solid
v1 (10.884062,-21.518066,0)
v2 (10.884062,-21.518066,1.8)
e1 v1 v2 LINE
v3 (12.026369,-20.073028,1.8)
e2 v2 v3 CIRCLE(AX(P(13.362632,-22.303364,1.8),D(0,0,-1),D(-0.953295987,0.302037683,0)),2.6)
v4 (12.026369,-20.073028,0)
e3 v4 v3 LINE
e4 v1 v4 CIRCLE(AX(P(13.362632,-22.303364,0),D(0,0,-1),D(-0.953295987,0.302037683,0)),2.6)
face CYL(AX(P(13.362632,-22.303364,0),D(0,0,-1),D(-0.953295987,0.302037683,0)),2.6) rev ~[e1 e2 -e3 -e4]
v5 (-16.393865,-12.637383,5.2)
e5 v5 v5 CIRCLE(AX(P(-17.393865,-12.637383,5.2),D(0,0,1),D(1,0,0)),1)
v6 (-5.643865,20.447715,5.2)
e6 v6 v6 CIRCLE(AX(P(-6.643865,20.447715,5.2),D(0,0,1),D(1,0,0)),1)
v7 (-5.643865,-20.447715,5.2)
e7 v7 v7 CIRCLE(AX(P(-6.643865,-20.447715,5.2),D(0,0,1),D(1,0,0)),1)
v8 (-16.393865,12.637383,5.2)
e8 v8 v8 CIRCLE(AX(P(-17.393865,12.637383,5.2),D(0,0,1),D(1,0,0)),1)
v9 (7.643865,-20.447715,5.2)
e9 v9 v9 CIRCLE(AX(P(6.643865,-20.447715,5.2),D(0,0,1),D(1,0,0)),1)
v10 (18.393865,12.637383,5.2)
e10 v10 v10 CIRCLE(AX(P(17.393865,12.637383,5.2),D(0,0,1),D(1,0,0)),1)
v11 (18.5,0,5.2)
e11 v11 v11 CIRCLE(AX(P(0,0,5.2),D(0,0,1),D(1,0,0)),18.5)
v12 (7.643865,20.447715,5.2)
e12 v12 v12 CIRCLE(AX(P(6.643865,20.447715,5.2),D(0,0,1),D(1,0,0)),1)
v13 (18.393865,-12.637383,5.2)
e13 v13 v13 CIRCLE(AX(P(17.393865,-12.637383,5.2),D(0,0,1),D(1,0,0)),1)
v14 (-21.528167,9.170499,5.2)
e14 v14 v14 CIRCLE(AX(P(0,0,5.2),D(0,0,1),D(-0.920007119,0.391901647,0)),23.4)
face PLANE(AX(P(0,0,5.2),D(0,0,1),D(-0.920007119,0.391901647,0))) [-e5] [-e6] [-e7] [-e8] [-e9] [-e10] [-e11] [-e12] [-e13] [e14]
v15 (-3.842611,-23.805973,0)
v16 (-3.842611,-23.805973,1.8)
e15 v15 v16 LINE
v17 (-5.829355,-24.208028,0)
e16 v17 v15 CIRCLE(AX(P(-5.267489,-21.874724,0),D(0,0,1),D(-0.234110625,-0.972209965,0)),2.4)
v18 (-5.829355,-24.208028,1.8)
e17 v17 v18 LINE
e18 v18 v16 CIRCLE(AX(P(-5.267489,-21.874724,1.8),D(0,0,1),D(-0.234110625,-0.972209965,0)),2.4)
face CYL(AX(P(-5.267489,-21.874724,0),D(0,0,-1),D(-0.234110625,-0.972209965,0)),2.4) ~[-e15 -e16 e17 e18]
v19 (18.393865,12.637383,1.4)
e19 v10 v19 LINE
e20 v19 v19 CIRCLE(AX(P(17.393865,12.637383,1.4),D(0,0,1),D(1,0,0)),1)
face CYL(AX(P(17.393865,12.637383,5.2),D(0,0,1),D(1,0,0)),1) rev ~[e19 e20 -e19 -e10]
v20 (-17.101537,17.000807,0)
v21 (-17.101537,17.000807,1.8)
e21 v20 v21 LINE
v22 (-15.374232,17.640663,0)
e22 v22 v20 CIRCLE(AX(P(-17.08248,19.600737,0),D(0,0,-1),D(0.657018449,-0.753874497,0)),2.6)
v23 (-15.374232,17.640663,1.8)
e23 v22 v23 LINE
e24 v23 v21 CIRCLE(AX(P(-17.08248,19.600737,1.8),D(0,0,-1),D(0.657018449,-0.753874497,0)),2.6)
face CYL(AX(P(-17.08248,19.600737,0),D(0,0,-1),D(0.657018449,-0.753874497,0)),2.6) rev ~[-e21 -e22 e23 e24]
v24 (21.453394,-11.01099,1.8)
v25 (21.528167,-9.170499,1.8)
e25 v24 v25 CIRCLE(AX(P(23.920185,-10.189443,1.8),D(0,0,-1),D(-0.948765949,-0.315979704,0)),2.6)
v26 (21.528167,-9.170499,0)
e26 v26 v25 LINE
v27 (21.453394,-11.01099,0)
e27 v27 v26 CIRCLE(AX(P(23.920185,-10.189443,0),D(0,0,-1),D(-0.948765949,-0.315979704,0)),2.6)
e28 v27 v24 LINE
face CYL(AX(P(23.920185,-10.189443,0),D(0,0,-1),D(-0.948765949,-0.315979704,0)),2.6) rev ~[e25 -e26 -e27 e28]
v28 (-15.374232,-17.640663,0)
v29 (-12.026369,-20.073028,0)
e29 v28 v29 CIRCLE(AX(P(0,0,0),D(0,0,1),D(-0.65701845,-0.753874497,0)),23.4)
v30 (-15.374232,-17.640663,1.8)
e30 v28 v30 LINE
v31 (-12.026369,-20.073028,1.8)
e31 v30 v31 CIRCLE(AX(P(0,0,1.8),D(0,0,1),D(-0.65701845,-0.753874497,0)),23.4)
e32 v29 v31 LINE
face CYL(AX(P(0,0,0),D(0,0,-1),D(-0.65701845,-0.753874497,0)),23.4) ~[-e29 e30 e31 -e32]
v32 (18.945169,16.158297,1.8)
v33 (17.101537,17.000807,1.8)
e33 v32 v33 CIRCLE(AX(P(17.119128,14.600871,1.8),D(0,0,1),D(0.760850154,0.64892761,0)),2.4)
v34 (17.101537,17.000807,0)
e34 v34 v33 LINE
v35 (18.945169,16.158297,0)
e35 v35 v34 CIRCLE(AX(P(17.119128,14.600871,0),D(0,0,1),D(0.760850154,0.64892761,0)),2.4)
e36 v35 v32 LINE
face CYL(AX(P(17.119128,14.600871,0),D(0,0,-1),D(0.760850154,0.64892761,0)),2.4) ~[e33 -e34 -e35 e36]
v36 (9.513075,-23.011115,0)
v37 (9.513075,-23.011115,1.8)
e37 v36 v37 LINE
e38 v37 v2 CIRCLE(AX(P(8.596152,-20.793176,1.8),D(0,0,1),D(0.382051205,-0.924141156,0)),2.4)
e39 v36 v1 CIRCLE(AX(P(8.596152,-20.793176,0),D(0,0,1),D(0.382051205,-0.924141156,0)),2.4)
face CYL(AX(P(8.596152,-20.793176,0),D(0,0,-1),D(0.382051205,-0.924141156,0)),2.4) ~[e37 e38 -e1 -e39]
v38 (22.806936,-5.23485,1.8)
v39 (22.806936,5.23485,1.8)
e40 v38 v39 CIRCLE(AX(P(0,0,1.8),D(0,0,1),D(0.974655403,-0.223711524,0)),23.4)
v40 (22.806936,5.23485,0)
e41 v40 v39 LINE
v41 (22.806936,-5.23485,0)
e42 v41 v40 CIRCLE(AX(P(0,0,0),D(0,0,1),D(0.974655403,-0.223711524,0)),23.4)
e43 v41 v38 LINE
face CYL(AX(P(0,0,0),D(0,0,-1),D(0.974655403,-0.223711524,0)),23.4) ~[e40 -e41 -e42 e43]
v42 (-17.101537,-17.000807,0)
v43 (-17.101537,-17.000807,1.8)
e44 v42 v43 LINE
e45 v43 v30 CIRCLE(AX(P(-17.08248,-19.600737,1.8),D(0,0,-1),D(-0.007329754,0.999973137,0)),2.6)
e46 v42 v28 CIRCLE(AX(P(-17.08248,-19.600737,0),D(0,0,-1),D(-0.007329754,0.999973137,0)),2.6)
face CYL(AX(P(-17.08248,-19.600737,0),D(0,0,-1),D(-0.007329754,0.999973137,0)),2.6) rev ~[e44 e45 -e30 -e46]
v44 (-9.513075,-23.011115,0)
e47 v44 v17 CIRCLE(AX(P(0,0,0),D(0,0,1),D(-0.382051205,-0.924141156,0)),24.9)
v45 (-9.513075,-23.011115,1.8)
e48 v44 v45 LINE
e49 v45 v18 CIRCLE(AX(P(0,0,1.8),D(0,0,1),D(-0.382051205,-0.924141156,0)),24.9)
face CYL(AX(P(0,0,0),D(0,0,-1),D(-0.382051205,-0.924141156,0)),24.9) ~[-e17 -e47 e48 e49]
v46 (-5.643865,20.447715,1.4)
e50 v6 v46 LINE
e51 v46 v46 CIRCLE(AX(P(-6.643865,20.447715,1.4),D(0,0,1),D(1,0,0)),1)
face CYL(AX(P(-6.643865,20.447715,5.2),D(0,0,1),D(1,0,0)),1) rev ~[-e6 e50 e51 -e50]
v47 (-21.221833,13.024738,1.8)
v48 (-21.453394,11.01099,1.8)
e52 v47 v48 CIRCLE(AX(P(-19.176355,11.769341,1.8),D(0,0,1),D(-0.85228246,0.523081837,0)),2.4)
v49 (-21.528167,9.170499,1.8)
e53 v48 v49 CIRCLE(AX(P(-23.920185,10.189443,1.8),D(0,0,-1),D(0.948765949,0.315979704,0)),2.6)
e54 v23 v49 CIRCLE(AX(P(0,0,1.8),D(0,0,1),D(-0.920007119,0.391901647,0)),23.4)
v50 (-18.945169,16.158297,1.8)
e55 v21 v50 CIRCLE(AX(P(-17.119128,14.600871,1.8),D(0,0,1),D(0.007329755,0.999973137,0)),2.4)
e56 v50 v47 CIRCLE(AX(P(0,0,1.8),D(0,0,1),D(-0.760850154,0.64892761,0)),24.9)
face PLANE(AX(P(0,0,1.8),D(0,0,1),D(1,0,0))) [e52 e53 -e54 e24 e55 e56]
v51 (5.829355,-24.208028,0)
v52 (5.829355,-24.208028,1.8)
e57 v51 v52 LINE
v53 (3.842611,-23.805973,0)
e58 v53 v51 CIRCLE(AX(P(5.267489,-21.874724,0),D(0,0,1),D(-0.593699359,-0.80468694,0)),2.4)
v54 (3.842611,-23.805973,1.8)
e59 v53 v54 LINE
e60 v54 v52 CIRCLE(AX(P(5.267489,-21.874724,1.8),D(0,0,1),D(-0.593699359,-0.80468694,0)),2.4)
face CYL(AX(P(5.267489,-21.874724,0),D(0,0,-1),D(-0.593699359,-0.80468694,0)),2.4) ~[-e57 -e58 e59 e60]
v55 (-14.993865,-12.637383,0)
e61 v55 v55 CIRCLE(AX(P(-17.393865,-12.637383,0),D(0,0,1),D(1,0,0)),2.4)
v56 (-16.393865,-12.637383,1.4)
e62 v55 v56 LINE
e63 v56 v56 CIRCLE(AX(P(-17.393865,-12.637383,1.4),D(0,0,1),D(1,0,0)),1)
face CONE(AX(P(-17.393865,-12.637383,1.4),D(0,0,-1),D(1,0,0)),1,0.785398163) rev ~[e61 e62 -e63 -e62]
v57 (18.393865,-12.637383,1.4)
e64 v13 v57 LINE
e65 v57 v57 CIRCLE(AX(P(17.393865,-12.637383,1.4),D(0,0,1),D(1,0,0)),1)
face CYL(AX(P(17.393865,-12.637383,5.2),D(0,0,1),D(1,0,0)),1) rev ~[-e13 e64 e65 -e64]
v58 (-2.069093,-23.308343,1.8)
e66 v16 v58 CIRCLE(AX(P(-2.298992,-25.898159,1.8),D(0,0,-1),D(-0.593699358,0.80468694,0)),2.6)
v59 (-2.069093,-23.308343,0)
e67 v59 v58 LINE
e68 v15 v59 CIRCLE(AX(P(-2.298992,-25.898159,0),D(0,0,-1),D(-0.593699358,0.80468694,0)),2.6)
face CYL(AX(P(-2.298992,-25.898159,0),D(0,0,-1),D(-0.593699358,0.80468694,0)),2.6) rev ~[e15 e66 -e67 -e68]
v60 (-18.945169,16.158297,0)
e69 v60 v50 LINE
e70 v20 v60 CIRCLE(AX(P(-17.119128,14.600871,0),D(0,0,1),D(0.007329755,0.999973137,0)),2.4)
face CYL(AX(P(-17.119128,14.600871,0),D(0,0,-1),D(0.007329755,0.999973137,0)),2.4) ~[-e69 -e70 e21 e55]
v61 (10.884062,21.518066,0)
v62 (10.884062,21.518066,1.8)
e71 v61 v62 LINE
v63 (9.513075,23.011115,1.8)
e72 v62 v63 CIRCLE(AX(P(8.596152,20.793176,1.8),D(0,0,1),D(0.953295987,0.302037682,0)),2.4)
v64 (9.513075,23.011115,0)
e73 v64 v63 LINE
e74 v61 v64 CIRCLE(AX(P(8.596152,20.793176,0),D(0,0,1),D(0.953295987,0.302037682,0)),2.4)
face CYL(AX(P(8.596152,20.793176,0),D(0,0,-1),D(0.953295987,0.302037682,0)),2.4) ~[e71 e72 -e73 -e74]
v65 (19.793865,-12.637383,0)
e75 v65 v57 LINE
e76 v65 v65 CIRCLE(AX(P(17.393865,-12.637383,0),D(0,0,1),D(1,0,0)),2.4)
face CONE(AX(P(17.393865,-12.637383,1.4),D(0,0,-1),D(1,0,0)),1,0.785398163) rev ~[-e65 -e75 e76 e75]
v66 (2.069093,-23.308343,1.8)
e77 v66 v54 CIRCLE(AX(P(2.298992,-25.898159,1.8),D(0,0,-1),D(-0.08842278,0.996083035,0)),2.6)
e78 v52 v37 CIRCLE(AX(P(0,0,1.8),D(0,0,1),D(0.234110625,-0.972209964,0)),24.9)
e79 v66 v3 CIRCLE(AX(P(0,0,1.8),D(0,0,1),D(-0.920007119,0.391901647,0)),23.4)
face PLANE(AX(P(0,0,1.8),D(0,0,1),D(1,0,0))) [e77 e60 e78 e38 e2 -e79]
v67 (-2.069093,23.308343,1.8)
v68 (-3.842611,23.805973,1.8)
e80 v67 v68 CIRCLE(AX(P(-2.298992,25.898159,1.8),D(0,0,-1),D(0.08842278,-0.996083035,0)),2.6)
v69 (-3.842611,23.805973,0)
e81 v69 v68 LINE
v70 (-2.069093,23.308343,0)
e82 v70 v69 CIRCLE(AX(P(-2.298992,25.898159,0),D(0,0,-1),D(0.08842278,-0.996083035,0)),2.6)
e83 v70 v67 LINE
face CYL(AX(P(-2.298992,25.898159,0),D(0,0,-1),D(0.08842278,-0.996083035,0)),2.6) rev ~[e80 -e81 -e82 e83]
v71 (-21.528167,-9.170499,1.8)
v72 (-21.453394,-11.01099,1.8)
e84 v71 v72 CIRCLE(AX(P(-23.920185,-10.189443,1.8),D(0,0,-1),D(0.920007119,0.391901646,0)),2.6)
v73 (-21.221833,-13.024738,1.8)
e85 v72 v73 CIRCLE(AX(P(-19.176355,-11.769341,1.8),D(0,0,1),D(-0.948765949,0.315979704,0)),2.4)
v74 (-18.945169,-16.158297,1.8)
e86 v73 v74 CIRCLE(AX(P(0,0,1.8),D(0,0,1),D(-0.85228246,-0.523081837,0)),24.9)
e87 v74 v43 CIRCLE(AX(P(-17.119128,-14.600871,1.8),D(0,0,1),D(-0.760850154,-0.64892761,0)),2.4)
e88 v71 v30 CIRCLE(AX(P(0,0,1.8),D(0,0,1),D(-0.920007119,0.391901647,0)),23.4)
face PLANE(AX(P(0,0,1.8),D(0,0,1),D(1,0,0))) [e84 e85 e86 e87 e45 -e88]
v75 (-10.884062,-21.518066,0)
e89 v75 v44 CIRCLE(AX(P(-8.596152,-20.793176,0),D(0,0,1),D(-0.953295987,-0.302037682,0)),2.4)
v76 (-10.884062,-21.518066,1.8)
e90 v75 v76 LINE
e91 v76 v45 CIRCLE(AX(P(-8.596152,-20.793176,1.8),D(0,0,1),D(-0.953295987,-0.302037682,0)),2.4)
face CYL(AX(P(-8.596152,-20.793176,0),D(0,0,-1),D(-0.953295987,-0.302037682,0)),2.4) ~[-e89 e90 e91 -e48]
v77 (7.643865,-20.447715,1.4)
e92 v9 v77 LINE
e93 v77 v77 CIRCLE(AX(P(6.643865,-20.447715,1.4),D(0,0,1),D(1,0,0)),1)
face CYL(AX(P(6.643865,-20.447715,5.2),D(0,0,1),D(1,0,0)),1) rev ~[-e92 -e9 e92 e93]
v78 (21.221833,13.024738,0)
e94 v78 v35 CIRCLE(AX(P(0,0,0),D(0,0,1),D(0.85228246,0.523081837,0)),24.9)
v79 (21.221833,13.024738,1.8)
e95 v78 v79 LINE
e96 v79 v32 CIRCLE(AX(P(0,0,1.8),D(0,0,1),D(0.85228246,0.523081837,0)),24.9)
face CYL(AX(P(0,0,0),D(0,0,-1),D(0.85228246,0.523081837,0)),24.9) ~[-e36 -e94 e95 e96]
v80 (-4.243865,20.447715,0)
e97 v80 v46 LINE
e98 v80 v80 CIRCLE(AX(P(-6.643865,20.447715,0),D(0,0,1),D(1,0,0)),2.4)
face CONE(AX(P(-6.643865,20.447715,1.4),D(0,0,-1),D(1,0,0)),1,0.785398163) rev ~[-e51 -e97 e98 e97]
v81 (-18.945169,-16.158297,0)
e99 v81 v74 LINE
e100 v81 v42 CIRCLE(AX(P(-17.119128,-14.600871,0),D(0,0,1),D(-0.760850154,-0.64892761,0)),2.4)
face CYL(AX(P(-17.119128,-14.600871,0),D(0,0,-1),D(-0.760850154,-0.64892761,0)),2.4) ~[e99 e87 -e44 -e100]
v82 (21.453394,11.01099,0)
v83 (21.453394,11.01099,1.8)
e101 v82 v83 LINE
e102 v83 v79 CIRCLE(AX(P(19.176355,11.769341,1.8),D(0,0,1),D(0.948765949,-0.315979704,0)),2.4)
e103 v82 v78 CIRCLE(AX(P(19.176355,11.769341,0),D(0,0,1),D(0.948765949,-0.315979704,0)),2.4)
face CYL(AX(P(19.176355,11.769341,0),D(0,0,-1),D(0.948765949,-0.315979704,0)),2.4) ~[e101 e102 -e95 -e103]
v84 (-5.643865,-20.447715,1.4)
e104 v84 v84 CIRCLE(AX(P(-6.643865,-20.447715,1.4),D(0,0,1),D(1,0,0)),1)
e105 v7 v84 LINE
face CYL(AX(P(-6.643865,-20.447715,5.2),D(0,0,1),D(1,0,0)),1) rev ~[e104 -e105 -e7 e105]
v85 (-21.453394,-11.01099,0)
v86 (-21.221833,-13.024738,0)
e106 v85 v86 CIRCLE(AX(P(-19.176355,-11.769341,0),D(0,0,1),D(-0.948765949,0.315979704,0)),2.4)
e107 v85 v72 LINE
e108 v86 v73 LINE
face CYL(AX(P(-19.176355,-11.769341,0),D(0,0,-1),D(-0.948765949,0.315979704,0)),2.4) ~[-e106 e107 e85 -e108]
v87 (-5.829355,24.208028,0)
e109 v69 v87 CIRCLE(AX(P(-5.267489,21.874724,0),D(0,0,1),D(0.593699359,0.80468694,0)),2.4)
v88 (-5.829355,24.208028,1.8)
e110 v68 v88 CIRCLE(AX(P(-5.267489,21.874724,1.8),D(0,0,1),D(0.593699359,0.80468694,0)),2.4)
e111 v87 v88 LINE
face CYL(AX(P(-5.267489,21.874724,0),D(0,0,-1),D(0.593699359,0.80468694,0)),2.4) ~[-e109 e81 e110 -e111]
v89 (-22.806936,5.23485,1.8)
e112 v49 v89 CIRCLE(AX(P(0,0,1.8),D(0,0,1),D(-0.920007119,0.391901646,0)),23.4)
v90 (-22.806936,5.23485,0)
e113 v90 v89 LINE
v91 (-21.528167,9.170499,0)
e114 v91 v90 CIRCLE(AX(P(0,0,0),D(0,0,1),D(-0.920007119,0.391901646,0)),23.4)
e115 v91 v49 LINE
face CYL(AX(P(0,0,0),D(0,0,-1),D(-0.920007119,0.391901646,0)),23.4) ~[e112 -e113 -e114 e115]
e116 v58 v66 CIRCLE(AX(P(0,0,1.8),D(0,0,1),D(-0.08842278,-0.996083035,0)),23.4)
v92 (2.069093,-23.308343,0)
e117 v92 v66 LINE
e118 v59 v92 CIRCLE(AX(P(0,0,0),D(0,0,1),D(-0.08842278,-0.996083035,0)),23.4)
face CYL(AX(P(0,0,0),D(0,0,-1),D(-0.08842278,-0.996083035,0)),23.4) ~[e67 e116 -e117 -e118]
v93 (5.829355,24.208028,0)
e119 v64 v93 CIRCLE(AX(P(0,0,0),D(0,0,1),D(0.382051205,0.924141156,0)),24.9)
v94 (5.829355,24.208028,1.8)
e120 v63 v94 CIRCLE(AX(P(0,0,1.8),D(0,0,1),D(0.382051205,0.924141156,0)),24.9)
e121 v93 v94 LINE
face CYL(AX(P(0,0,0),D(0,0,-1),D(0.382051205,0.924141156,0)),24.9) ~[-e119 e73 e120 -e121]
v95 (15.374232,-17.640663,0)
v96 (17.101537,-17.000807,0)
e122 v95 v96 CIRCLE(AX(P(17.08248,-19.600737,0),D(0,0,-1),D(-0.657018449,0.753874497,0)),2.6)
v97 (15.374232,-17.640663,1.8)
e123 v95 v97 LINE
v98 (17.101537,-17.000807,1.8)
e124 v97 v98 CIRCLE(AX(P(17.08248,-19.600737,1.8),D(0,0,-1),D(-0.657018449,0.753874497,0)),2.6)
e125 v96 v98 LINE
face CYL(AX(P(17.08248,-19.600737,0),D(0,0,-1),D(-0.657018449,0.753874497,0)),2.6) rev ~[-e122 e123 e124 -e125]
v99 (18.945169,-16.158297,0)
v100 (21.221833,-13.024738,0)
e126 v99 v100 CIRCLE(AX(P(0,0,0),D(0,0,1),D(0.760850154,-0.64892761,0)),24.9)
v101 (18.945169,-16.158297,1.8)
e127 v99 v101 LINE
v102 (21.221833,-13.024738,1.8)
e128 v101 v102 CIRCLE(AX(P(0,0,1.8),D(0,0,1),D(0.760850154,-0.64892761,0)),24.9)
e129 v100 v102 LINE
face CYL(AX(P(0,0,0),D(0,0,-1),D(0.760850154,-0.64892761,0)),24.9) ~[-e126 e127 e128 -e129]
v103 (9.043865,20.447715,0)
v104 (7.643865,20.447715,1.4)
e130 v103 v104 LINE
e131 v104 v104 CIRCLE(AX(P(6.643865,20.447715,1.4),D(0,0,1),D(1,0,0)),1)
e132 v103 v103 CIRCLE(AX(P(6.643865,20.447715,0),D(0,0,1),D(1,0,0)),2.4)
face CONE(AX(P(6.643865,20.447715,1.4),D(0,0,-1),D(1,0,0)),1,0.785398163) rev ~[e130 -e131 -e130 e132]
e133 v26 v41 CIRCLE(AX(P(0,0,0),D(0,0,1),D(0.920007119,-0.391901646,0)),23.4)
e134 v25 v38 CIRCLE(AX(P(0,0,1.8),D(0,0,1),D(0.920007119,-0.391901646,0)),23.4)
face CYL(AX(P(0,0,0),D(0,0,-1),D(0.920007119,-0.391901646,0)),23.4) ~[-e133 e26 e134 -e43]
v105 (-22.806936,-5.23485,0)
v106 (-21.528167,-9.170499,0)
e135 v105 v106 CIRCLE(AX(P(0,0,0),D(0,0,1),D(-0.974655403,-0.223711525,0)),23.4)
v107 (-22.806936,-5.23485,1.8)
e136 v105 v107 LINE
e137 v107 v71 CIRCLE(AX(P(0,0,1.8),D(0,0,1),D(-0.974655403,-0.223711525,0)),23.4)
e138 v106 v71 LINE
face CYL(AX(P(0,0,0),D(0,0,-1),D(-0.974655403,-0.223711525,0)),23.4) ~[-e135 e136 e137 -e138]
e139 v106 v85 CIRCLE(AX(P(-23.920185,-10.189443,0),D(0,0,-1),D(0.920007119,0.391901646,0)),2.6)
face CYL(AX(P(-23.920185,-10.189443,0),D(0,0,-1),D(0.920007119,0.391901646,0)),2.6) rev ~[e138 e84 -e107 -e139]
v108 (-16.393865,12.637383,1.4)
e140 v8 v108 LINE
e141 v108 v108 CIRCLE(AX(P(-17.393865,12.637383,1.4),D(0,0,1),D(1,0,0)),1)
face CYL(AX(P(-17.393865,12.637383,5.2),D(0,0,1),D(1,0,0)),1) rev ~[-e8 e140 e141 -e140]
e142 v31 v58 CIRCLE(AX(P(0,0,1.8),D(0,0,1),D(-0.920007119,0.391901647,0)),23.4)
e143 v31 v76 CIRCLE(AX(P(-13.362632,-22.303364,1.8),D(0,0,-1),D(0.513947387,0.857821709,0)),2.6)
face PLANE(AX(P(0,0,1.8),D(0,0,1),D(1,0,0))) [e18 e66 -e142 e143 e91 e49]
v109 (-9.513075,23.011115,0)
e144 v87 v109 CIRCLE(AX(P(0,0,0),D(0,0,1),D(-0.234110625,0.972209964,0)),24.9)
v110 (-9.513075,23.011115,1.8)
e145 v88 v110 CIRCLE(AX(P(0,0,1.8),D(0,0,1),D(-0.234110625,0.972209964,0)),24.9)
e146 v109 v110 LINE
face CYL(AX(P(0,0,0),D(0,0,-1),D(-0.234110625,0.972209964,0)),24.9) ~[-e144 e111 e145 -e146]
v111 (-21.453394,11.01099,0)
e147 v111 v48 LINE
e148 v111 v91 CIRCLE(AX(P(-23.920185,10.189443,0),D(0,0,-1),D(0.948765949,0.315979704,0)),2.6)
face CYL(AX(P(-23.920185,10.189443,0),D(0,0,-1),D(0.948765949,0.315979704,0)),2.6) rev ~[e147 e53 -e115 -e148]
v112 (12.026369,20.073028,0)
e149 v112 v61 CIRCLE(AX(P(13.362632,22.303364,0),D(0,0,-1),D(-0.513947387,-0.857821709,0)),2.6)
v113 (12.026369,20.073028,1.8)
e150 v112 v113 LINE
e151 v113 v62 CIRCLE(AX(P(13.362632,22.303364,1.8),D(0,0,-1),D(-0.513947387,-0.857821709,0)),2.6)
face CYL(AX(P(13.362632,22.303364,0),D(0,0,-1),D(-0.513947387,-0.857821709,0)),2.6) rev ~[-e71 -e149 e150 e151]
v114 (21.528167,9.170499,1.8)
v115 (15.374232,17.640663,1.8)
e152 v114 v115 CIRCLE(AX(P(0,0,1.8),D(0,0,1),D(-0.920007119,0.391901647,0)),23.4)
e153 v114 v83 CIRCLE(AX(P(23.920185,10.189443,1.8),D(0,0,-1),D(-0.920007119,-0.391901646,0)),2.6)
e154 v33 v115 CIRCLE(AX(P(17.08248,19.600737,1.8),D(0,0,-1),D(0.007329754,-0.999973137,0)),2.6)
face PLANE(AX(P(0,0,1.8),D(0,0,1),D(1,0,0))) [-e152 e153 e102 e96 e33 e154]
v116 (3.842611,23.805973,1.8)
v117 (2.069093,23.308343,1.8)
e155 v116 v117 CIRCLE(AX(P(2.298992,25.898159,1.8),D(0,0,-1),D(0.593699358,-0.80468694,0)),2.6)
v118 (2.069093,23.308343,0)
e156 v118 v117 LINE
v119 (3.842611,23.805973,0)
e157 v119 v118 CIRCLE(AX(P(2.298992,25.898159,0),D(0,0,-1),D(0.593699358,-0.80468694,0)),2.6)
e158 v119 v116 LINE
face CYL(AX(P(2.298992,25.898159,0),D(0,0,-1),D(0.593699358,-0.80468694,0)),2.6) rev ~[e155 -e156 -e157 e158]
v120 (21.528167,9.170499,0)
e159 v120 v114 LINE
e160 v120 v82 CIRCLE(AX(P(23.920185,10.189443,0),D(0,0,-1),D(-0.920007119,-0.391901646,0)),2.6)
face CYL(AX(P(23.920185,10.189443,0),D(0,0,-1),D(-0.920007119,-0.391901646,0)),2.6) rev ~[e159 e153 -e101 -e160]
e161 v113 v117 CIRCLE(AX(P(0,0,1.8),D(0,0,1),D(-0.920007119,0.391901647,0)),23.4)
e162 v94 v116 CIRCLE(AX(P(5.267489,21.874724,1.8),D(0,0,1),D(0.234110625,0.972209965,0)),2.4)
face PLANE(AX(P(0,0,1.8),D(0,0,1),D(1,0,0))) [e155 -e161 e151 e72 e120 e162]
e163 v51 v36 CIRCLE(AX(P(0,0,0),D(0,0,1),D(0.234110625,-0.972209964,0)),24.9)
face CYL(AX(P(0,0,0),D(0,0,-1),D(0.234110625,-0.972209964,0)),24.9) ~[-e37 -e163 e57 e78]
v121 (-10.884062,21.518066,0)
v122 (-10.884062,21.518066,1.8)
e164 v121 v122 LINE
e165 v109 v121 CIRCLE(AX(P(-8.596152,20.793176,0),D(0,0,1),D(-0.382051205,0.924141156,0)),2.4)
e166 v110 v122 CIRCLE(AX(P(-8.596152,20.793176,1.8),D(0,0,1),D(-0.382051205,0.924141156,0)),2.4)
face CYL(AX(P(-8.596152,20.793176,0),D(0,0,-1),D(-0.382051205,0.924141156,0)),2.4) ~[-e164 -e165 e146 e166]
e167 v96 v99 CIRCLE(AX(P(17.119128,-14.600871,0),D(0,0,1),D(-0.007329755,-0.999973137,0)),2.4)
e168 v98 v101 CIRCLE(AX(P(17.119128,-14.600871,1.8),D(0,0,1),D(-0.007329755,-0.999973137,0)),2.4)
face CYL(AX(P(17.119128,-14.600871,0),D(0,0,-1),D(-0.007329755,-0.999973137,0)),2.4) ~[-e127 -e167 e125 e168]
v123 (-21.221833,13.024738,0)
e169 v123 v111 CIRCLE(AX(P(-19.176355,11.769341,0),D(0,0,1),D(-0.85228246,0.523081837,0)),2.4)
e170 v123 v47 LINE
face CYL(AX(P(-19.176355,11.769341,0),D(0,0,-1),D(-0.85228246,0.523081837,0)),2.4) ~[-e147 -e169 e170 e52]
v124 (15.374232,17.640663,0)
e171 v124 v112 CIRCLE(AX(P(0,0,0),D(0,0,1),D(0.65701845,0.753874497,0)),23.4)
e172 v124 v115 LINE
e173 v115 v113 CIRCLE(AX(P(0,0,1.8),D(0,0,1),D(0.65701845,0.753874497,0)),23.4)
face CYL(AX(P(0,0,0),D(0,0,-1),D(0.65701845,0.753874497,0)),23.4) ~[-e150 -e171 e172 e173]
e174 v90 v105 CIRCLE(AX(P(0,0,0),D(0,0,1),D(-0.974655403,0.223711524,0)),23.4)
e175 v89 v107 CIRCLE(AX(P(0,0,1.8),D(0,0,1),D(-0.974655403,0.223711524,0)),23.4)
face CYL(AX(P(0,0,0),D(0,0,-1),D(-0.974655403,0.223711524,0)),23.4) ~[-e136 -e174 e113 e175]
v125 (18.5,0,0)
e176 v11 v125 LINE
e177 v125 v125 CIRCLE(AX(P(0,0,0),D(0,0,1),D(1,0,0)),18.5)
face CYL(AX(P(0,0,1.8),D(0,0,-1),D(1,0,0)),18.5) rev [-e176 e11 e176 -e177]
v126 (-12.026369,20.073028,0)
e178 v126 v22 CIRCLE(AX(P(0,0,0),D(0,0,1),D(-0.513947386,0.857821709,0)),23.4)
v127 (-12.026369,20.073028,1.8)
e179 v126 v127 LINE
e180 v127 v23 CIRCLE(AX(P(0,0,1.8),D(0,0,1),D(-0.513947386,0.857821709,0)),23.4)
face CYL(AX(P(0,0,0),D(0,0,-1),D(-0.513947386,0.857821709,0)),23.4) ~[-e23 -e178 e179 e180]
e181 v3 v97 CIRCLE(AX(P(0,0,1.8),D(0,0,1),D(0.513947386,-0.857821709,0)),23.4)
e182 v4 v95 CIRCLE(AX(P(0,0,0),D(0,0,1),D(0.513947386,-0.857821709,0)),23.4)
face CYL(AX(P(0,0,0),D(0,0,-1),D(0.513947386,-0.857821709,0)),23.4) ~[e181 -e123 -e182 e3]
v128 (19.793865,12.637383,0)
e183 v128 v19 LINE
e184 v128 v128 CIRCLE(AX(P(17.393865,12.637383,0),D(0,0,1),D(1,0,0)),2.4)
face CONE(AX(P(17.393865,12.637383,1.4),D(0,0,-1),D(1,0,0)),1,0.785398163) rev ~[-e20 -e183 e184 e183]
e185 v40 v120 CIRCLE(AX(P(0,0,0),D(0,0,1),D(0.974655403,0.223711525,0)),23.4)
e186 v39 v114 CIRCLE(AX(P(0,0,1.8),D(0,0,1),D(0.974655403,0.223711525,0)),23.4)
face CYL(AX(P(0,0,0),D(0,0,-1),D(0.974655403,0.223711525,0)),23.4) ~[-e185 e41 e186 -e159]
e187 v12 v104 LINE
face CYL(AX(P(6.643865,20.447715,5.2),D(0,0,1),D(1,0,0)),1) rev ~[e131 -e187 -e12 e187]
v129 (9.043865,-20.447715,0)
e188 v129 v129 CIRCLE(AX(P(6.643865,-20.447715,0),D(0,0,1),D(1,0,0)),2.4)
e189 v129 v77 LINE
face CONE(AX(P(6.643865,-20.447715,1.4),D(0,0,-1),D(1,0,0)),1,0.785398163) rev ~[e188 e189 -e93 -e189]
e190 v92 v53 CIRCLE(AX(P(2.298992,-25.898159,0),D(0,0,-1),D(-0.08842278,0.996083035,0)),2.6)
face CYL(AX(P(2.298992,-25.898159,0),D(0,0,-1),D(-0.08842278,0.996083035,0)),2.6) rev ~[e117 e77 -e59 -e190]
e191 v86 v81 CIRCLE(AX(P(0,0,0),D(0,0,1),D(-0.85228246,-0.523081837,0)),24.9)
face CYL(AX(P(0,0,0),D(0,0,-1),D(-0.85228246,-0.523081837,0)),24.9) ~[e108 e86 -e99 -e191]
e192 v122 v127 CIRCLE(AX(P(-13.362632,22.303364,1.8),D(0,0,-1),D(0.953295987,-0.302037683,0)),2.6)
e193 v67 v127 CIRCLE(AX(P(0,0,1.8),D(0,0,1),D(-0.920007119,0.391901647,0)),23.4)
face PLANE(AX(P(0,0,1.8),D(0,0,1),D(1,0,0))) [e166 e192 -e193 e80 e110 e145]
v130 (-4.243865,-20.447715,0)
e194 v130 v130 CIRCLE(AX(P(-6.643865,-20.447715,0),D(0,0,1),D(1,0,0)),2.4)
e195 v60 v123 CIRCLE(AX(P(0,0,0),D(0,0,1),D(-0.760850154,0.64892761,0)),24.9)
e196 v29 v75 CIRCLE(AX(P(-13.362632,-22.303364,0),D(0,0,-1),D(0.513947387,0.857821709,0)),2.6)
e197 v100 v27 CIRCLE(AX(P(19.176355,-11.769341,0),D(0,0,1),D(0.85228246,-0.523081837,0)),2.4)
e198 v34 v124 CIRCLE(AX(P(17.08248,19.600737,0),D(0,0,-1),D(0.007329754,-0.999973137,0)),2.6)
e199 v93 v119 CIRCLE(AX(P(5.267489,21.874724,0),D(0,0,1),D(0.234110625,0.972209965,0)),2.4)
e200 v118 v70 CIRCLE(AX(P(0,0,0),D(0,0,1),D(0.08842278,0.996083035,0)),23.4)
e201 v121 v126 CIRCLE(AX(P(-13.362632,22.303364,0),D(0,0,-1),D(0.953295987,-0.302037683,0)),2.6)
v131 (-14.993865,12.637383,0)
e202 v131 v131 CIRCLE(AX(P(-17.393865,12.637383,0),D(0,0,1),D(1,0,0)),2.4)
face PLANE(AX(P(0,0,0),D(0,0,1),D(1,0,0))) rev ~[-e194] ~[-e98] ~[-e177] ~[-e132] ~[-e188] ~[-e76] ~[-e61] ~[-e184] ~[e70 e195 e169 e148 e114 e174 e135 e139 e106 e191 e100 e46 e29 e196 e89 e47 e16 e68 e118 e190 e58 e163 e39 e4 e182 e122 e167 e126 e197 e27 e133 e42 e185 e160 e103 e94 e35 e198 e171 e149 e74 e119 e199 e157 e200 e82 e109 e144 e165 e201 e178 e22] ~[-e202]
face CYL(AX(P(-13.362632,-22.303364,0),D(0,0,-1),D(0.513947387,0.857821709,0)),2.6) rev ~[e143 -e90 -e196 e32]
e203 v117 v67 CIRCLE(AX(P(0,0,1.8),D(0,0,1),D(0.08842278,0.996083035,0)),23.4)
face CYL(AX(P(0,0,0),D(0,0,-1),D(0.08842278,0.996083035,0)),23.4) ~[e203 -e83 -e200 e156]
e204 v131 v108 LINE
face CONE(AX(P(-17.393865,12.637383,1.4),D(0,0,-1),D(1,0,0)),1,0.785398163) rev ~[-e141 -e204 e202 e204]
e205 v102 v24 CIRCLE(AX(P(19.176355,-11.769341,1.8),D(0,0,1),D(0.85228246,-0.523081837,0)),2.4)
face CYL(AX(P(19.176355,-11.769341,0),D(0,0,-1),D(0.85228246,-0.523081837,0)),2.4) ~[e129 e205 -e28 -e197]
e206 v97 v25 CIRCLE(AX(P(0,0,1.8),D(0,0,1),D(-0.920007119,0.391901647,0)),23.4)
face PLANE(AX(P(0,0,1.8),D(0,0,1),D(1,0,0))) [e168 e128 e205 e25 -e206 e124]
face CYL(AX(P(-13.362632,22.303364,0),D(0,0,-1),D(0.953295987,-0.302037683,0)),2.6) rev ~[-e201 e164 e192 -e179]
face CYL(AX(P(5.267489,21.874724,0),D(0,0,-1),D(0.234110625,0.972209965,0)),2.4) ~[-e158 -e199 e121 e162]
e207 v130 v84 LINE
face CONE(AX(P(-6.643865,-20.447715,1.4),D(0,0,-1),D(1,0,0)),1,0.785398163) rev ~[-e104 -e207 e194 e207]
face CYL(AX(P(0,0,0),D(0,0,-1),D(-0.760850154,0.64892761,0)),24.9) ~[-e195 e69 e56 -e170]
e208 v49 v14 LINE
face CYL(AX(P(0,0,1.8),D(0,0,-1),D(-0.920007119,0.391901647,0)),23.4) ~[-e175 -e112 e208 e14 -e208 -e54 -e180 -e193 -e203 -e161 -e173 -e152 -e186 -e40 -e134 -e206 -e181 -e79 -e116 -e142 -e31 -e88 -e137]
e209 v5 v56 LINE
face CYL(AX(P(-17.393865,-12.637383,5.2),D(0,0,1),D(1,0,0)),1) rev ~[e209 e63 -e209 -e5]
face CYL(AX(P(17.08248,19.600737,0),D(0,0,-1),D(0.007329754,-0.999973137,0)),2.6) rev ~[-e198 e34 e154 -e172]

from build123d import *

# Parameters (mm, degrees)
SKIZZE1_R                       = 18.5
LINEAR_AUSTRAGEN1_DEPTH         = 1.8
SKIZZE2_R                       = 23.4
SKIZZE2_R_2                     = 18.5
LINEAR_AUSTRAGEN2_DEPTH         = 3.4
SKIZZE3_R                       = 1
SCHNITT_LINEAR_AUSTRAGEN1_DEPTH = 35.115425177
CHAMFER1_SIZE                   = 1.4


with BuildPart() as part:
    # Skizze1 → Linear austragen1 (new body)
    with BuildSketch(Plane.XY):
        with BuildLine():
            ThreePointArc((-22.806936421, 5.234849671), (-23.4, 0), (-22.806936421, -5.234849671))
            ThreePointArc((-22.806936421, -5.234849671), (-22.254722481, -7.230997668), (-21.528166589, -9.170498531))
            ThreePointArc((-21.528166589, -9.170498531), (-21.322328126, -10.083900652), (-21.453393631, -11.010990043))
            ThreePointArc((-21.453393631, -11.010990043), (-21.560643818, -12.043510102), (-21.221833257, -13.024737741))
            ThreePointArc((-21.221833257, -13.024737741), (-20.14452316, -14.635852782), (-18.94516883, -16.158297497))
            ThreePointArc((-18.94516883, -16.158297497), (-18.116664111, -16.783741505), (-17.10153705, -17.000806761))
            ThreePointArc((-17.10153705, -17.000806761), (-16.179321175, -17.162642436), (-15.37423172, -17.640663225))
            ThreePointArc((-15.37423172, -17.640663225), (-13.754174904, -18.930997668), (-12.026368835, -20.073027989))
            ThreePointArc((-12.026368835, -20.073027989), (-11.322957725, -20.690997014), (-10.884062474, -21.518066457))
            ThreePointArc((-10.884062474, -21.518066457), (-10.363929634, -22.416432811), (-9.513074997, -23.011114795))
            ThreePointArc((-9.513074997, -23.011114795), (-7.69452316, -23.681307256), (-5.829354574, -24.208028116))
            ThreePointArc((-5.829354574, -24.208028116), (-4.791453413, -24.227040092), (-3.842610612, -23.805972857))
            ThreePointArc((-3.842610612, -23.805972857), (-3.001397674, -23.394835778), (-2.069093052, -23.308343012))
            ThreePointArc((-2.069093052, -23.308343012), (0, -23.4), (2.069093052, -23.308343012))
            ThreePointArc((2.069093052, -23.308343012), (3.001397674, -23.394835778), (3.842610612, -23.805972857))
            ThreePointArc((3.842610612, -23.805972857), (4.791453413, -24.227040092), (5.829354574, -24.208028116))
            ThreePointArc((5.829354574, -24.208028116), (7.69452316, -23.681307256), (9.513074997, -23.011114795))
            ThreePointArc((9.513074997, -23.011114795), (10.363929634, -22.416432811), (10.884062474, -21.518066457))
            ThreePointArc((10.884062474, -21.518066457), (11.322957725, -20.690997014), (12.026368835, -20.073027989))
            ThreePointArc((12.026368835, -20.073027989), (13.754174904, -18.930997668), (15.37423172, -17.640663225))
            ThreePointArc((15.37423172, -17.640663225), (16.179321175, -17.162642436), (17.10153705, -17.000806761))
            ThreePointArc((17.10153705, -17.000806761), (18.116664111, -16.783741505), (18.94516883, -16.158297497))
            ThreePointArc((18.94516883, -16.158297497), (20.14452316, -14.635852782), (21.221833257, -13.024737741))
            ThreePointArc((21.221833257, -13.024737741), (21.560643818, -12.043510102), (21.453393631, -11.010990043))
            ThreePointArc((21.453393631, -11.010990043), (21.322328126, -10.083900652), (21.528166589, -9.170498531))
            ThreePointArc((21.528166589, -9.170498531), (22.254722481, -7.230997668), (22.806936421, -5.234849671))
            ThreePointArc((22.806936421, -5.234849671), (23.4, 0), (22.806936421, 5.234849671))
            ThreePointArc((22.806936421, 5.234849671), (22.254722481, 7.230997668), (21.528166589, 9.170498531))
            ThreePointArc((21.528166589, 9.170498531), (21.322328126, 10.083900652), (21.453393631, 11.010990043))
            ThreePointArc((21.453393631, 11.010990043), (21.560643818, 12.043510102), (21.221833257, 13.024737741))
            ThreePointArc((21.221833257, 13.024737741), (20.14452316, 14.635852782), (18.94516883, 16.158297497))
            ThreePointArc((18.94516883, 16.158297497), (18.116664111, 16.783741505), (17.10153705, 17.000806761))
            ThreePointArc((17.10153705, 17.000806761), (16.179321175, 17.162642436), (15.37423172, 17.640663225))
            ThreePointArc((15.37423172, 17.640663225), (13.754174904, 18.930997668), (12.026368835, 20.073027989))
            ThreePointArc((12.026368835, 20.073027989), (11.322957725, 20.690997014), (10.884062474, 21.518066457))
            ThreePointArc((10.884062474, 21.518066457), (10.363929634, 22.416432811), (9.513074997, 23.011114795))
            ThreePointArc((9.513074997, 23.011114795), (7.69452316, 23.681307256), (5.829354574, 24.208028116))
            ThreePointArc((5.829354574, 24.208028116), (4.791453413, 24.227040092), (3.842610612, 23.805972857))
            ThreePointArc((3.842610612, 23.805972857), (3.001397674, 23.394835778), (2.069093052, 23.308343012))
            ThreePointArc((2.069093052, 23.308343012), (0, 23.4), (-2.069093052, 23.308343012))
            ThreePointArc((-2.069093052, 23.308343012), (-3.001397674, 23.394835778), (-3.842610612, 23.805972857))
            ThreePointArc((-3.842610612, 23.805972857), (-4.791453413, 24.227040092), (-5.829354574, 24.208028116))
            ThreePointArc((-5.829354574, 24.208028116), (-7.69452316, 23.681307256), (-9.513074997, 23.011114795))
            ThreePointArc((-9.513074997, 23.011114795), (-10.363929634, 22.416432811), (-10.884062474, 21.518066457))
            ThreePointArc((-10.884062474, 21.518066457), (-11.322957725, 20.690997014), (-12.026368835, 20.073027989))
            ThreePointArc((-12.026368835, 20.073027989), (-13.754174904, 18.930997668), (-15.37423172, 17.640663225))
            ThreePointArc((-15.37423172, 17.640663225), (-16.179321175, 17.162642436), (-17.10153705, 17.000806761))
            ThreePointArc((-17.10153705, 17.000806761), (-18.116664111, 16.783741505), (-18.94516883, 16.158297497))
            ThreePointArc((-18.94516883, 16.158297497), (-20.14452316, 14.635852782), (-21.221833257, 13.024737741))
            ThreePointArc((-21.221833257, 13.024737741), (-21.560643818, 12.043510102), (-21.453393631, 11.010990043))
            ThreePointArc((-21.453393631, 11.010990043), (-21.322328126, 10.083900652), (-21.528166589, 9.170498531))
            ThreePointArc((-21.528166589, 9.170498531), (-22.254722481, 7.230997668), (-22.806936421, 5.234849671))
        make_face()
        Circle(SKIZZE1_R, mode=Mode.SUBTRACT)
    extrude(amount=LINEAR_AUSTRAGEN1_DEPTH)

    # Skizze2 → Linear austragen2 (add)
    with BuildSketch(Plane.XY.offset(1.8)):
        with Locations(Location((0, 0, 0), (0, 0, 156.927122734))):
            Circle(SKIZZE2_R)
        Circle(SKIZZE2_R_2, mode=Mode.SUBTRACT)
    extrude(amount=LINEAR_AUSTRAGEN2_DEPTH)

    # Skizze3 → Schnitt-Linear austragen1 (cut, through all)
    with BuildSketch(Plane.XY.offset(5.2)):
        with Locations((-6.643865379, 20.4477151)):
            Circle(SKIZZE3_R)
        with Locations((6.643865379, 20.4477151)):
            Circle(SKIZZE3_R)
        with Locations((17.393865379, 12.637382924)):
            Circle(SKIZZE3_R)
        with Locations((17.393865379, -12.637382924)):
            Circle(SKIZZE3_R)
        with Locations((6.643865379, -20.4477151)):
            Circle(SKIZZE3_R)
        with Locations((-6.643865379, -20.4477151)):
            Circle(SKIZZE3_R)
        with Locations((-17.393865379, -12.637382924)):
            Circle(SKIZZE3_R)
        with Locations((-17.393865379, 12.637382924)):
            Circle(SKIZZE3_R)
    extrude(amount=-SCHNITT_LINEAR_AUSTRAGEN1_DEPTH, mode=Mode.SUBTRACT)

    # Chamfer1
    chamfer1_edges = [part.edges().sort_by_distance(p)[0] for p in [
        (-7.643865379, 20.4477151, 0),
        (5.643865379, 20.4477151, 0),
        (16.393865379, 12.637382924, 0),
        (16.393865379, -12.637382924, 0),
        (5.643865379, -20.4477151, 0),
        (-7.643865379, -20.4477151, 0),
        (-18.393865379, -12.637382924, 0),
        (-18.393865379, 12.637382924, 0),
    ]]
    chamfer(chamfer1_edges, length=CHAMFER1_SIZE)


solid = part.part
